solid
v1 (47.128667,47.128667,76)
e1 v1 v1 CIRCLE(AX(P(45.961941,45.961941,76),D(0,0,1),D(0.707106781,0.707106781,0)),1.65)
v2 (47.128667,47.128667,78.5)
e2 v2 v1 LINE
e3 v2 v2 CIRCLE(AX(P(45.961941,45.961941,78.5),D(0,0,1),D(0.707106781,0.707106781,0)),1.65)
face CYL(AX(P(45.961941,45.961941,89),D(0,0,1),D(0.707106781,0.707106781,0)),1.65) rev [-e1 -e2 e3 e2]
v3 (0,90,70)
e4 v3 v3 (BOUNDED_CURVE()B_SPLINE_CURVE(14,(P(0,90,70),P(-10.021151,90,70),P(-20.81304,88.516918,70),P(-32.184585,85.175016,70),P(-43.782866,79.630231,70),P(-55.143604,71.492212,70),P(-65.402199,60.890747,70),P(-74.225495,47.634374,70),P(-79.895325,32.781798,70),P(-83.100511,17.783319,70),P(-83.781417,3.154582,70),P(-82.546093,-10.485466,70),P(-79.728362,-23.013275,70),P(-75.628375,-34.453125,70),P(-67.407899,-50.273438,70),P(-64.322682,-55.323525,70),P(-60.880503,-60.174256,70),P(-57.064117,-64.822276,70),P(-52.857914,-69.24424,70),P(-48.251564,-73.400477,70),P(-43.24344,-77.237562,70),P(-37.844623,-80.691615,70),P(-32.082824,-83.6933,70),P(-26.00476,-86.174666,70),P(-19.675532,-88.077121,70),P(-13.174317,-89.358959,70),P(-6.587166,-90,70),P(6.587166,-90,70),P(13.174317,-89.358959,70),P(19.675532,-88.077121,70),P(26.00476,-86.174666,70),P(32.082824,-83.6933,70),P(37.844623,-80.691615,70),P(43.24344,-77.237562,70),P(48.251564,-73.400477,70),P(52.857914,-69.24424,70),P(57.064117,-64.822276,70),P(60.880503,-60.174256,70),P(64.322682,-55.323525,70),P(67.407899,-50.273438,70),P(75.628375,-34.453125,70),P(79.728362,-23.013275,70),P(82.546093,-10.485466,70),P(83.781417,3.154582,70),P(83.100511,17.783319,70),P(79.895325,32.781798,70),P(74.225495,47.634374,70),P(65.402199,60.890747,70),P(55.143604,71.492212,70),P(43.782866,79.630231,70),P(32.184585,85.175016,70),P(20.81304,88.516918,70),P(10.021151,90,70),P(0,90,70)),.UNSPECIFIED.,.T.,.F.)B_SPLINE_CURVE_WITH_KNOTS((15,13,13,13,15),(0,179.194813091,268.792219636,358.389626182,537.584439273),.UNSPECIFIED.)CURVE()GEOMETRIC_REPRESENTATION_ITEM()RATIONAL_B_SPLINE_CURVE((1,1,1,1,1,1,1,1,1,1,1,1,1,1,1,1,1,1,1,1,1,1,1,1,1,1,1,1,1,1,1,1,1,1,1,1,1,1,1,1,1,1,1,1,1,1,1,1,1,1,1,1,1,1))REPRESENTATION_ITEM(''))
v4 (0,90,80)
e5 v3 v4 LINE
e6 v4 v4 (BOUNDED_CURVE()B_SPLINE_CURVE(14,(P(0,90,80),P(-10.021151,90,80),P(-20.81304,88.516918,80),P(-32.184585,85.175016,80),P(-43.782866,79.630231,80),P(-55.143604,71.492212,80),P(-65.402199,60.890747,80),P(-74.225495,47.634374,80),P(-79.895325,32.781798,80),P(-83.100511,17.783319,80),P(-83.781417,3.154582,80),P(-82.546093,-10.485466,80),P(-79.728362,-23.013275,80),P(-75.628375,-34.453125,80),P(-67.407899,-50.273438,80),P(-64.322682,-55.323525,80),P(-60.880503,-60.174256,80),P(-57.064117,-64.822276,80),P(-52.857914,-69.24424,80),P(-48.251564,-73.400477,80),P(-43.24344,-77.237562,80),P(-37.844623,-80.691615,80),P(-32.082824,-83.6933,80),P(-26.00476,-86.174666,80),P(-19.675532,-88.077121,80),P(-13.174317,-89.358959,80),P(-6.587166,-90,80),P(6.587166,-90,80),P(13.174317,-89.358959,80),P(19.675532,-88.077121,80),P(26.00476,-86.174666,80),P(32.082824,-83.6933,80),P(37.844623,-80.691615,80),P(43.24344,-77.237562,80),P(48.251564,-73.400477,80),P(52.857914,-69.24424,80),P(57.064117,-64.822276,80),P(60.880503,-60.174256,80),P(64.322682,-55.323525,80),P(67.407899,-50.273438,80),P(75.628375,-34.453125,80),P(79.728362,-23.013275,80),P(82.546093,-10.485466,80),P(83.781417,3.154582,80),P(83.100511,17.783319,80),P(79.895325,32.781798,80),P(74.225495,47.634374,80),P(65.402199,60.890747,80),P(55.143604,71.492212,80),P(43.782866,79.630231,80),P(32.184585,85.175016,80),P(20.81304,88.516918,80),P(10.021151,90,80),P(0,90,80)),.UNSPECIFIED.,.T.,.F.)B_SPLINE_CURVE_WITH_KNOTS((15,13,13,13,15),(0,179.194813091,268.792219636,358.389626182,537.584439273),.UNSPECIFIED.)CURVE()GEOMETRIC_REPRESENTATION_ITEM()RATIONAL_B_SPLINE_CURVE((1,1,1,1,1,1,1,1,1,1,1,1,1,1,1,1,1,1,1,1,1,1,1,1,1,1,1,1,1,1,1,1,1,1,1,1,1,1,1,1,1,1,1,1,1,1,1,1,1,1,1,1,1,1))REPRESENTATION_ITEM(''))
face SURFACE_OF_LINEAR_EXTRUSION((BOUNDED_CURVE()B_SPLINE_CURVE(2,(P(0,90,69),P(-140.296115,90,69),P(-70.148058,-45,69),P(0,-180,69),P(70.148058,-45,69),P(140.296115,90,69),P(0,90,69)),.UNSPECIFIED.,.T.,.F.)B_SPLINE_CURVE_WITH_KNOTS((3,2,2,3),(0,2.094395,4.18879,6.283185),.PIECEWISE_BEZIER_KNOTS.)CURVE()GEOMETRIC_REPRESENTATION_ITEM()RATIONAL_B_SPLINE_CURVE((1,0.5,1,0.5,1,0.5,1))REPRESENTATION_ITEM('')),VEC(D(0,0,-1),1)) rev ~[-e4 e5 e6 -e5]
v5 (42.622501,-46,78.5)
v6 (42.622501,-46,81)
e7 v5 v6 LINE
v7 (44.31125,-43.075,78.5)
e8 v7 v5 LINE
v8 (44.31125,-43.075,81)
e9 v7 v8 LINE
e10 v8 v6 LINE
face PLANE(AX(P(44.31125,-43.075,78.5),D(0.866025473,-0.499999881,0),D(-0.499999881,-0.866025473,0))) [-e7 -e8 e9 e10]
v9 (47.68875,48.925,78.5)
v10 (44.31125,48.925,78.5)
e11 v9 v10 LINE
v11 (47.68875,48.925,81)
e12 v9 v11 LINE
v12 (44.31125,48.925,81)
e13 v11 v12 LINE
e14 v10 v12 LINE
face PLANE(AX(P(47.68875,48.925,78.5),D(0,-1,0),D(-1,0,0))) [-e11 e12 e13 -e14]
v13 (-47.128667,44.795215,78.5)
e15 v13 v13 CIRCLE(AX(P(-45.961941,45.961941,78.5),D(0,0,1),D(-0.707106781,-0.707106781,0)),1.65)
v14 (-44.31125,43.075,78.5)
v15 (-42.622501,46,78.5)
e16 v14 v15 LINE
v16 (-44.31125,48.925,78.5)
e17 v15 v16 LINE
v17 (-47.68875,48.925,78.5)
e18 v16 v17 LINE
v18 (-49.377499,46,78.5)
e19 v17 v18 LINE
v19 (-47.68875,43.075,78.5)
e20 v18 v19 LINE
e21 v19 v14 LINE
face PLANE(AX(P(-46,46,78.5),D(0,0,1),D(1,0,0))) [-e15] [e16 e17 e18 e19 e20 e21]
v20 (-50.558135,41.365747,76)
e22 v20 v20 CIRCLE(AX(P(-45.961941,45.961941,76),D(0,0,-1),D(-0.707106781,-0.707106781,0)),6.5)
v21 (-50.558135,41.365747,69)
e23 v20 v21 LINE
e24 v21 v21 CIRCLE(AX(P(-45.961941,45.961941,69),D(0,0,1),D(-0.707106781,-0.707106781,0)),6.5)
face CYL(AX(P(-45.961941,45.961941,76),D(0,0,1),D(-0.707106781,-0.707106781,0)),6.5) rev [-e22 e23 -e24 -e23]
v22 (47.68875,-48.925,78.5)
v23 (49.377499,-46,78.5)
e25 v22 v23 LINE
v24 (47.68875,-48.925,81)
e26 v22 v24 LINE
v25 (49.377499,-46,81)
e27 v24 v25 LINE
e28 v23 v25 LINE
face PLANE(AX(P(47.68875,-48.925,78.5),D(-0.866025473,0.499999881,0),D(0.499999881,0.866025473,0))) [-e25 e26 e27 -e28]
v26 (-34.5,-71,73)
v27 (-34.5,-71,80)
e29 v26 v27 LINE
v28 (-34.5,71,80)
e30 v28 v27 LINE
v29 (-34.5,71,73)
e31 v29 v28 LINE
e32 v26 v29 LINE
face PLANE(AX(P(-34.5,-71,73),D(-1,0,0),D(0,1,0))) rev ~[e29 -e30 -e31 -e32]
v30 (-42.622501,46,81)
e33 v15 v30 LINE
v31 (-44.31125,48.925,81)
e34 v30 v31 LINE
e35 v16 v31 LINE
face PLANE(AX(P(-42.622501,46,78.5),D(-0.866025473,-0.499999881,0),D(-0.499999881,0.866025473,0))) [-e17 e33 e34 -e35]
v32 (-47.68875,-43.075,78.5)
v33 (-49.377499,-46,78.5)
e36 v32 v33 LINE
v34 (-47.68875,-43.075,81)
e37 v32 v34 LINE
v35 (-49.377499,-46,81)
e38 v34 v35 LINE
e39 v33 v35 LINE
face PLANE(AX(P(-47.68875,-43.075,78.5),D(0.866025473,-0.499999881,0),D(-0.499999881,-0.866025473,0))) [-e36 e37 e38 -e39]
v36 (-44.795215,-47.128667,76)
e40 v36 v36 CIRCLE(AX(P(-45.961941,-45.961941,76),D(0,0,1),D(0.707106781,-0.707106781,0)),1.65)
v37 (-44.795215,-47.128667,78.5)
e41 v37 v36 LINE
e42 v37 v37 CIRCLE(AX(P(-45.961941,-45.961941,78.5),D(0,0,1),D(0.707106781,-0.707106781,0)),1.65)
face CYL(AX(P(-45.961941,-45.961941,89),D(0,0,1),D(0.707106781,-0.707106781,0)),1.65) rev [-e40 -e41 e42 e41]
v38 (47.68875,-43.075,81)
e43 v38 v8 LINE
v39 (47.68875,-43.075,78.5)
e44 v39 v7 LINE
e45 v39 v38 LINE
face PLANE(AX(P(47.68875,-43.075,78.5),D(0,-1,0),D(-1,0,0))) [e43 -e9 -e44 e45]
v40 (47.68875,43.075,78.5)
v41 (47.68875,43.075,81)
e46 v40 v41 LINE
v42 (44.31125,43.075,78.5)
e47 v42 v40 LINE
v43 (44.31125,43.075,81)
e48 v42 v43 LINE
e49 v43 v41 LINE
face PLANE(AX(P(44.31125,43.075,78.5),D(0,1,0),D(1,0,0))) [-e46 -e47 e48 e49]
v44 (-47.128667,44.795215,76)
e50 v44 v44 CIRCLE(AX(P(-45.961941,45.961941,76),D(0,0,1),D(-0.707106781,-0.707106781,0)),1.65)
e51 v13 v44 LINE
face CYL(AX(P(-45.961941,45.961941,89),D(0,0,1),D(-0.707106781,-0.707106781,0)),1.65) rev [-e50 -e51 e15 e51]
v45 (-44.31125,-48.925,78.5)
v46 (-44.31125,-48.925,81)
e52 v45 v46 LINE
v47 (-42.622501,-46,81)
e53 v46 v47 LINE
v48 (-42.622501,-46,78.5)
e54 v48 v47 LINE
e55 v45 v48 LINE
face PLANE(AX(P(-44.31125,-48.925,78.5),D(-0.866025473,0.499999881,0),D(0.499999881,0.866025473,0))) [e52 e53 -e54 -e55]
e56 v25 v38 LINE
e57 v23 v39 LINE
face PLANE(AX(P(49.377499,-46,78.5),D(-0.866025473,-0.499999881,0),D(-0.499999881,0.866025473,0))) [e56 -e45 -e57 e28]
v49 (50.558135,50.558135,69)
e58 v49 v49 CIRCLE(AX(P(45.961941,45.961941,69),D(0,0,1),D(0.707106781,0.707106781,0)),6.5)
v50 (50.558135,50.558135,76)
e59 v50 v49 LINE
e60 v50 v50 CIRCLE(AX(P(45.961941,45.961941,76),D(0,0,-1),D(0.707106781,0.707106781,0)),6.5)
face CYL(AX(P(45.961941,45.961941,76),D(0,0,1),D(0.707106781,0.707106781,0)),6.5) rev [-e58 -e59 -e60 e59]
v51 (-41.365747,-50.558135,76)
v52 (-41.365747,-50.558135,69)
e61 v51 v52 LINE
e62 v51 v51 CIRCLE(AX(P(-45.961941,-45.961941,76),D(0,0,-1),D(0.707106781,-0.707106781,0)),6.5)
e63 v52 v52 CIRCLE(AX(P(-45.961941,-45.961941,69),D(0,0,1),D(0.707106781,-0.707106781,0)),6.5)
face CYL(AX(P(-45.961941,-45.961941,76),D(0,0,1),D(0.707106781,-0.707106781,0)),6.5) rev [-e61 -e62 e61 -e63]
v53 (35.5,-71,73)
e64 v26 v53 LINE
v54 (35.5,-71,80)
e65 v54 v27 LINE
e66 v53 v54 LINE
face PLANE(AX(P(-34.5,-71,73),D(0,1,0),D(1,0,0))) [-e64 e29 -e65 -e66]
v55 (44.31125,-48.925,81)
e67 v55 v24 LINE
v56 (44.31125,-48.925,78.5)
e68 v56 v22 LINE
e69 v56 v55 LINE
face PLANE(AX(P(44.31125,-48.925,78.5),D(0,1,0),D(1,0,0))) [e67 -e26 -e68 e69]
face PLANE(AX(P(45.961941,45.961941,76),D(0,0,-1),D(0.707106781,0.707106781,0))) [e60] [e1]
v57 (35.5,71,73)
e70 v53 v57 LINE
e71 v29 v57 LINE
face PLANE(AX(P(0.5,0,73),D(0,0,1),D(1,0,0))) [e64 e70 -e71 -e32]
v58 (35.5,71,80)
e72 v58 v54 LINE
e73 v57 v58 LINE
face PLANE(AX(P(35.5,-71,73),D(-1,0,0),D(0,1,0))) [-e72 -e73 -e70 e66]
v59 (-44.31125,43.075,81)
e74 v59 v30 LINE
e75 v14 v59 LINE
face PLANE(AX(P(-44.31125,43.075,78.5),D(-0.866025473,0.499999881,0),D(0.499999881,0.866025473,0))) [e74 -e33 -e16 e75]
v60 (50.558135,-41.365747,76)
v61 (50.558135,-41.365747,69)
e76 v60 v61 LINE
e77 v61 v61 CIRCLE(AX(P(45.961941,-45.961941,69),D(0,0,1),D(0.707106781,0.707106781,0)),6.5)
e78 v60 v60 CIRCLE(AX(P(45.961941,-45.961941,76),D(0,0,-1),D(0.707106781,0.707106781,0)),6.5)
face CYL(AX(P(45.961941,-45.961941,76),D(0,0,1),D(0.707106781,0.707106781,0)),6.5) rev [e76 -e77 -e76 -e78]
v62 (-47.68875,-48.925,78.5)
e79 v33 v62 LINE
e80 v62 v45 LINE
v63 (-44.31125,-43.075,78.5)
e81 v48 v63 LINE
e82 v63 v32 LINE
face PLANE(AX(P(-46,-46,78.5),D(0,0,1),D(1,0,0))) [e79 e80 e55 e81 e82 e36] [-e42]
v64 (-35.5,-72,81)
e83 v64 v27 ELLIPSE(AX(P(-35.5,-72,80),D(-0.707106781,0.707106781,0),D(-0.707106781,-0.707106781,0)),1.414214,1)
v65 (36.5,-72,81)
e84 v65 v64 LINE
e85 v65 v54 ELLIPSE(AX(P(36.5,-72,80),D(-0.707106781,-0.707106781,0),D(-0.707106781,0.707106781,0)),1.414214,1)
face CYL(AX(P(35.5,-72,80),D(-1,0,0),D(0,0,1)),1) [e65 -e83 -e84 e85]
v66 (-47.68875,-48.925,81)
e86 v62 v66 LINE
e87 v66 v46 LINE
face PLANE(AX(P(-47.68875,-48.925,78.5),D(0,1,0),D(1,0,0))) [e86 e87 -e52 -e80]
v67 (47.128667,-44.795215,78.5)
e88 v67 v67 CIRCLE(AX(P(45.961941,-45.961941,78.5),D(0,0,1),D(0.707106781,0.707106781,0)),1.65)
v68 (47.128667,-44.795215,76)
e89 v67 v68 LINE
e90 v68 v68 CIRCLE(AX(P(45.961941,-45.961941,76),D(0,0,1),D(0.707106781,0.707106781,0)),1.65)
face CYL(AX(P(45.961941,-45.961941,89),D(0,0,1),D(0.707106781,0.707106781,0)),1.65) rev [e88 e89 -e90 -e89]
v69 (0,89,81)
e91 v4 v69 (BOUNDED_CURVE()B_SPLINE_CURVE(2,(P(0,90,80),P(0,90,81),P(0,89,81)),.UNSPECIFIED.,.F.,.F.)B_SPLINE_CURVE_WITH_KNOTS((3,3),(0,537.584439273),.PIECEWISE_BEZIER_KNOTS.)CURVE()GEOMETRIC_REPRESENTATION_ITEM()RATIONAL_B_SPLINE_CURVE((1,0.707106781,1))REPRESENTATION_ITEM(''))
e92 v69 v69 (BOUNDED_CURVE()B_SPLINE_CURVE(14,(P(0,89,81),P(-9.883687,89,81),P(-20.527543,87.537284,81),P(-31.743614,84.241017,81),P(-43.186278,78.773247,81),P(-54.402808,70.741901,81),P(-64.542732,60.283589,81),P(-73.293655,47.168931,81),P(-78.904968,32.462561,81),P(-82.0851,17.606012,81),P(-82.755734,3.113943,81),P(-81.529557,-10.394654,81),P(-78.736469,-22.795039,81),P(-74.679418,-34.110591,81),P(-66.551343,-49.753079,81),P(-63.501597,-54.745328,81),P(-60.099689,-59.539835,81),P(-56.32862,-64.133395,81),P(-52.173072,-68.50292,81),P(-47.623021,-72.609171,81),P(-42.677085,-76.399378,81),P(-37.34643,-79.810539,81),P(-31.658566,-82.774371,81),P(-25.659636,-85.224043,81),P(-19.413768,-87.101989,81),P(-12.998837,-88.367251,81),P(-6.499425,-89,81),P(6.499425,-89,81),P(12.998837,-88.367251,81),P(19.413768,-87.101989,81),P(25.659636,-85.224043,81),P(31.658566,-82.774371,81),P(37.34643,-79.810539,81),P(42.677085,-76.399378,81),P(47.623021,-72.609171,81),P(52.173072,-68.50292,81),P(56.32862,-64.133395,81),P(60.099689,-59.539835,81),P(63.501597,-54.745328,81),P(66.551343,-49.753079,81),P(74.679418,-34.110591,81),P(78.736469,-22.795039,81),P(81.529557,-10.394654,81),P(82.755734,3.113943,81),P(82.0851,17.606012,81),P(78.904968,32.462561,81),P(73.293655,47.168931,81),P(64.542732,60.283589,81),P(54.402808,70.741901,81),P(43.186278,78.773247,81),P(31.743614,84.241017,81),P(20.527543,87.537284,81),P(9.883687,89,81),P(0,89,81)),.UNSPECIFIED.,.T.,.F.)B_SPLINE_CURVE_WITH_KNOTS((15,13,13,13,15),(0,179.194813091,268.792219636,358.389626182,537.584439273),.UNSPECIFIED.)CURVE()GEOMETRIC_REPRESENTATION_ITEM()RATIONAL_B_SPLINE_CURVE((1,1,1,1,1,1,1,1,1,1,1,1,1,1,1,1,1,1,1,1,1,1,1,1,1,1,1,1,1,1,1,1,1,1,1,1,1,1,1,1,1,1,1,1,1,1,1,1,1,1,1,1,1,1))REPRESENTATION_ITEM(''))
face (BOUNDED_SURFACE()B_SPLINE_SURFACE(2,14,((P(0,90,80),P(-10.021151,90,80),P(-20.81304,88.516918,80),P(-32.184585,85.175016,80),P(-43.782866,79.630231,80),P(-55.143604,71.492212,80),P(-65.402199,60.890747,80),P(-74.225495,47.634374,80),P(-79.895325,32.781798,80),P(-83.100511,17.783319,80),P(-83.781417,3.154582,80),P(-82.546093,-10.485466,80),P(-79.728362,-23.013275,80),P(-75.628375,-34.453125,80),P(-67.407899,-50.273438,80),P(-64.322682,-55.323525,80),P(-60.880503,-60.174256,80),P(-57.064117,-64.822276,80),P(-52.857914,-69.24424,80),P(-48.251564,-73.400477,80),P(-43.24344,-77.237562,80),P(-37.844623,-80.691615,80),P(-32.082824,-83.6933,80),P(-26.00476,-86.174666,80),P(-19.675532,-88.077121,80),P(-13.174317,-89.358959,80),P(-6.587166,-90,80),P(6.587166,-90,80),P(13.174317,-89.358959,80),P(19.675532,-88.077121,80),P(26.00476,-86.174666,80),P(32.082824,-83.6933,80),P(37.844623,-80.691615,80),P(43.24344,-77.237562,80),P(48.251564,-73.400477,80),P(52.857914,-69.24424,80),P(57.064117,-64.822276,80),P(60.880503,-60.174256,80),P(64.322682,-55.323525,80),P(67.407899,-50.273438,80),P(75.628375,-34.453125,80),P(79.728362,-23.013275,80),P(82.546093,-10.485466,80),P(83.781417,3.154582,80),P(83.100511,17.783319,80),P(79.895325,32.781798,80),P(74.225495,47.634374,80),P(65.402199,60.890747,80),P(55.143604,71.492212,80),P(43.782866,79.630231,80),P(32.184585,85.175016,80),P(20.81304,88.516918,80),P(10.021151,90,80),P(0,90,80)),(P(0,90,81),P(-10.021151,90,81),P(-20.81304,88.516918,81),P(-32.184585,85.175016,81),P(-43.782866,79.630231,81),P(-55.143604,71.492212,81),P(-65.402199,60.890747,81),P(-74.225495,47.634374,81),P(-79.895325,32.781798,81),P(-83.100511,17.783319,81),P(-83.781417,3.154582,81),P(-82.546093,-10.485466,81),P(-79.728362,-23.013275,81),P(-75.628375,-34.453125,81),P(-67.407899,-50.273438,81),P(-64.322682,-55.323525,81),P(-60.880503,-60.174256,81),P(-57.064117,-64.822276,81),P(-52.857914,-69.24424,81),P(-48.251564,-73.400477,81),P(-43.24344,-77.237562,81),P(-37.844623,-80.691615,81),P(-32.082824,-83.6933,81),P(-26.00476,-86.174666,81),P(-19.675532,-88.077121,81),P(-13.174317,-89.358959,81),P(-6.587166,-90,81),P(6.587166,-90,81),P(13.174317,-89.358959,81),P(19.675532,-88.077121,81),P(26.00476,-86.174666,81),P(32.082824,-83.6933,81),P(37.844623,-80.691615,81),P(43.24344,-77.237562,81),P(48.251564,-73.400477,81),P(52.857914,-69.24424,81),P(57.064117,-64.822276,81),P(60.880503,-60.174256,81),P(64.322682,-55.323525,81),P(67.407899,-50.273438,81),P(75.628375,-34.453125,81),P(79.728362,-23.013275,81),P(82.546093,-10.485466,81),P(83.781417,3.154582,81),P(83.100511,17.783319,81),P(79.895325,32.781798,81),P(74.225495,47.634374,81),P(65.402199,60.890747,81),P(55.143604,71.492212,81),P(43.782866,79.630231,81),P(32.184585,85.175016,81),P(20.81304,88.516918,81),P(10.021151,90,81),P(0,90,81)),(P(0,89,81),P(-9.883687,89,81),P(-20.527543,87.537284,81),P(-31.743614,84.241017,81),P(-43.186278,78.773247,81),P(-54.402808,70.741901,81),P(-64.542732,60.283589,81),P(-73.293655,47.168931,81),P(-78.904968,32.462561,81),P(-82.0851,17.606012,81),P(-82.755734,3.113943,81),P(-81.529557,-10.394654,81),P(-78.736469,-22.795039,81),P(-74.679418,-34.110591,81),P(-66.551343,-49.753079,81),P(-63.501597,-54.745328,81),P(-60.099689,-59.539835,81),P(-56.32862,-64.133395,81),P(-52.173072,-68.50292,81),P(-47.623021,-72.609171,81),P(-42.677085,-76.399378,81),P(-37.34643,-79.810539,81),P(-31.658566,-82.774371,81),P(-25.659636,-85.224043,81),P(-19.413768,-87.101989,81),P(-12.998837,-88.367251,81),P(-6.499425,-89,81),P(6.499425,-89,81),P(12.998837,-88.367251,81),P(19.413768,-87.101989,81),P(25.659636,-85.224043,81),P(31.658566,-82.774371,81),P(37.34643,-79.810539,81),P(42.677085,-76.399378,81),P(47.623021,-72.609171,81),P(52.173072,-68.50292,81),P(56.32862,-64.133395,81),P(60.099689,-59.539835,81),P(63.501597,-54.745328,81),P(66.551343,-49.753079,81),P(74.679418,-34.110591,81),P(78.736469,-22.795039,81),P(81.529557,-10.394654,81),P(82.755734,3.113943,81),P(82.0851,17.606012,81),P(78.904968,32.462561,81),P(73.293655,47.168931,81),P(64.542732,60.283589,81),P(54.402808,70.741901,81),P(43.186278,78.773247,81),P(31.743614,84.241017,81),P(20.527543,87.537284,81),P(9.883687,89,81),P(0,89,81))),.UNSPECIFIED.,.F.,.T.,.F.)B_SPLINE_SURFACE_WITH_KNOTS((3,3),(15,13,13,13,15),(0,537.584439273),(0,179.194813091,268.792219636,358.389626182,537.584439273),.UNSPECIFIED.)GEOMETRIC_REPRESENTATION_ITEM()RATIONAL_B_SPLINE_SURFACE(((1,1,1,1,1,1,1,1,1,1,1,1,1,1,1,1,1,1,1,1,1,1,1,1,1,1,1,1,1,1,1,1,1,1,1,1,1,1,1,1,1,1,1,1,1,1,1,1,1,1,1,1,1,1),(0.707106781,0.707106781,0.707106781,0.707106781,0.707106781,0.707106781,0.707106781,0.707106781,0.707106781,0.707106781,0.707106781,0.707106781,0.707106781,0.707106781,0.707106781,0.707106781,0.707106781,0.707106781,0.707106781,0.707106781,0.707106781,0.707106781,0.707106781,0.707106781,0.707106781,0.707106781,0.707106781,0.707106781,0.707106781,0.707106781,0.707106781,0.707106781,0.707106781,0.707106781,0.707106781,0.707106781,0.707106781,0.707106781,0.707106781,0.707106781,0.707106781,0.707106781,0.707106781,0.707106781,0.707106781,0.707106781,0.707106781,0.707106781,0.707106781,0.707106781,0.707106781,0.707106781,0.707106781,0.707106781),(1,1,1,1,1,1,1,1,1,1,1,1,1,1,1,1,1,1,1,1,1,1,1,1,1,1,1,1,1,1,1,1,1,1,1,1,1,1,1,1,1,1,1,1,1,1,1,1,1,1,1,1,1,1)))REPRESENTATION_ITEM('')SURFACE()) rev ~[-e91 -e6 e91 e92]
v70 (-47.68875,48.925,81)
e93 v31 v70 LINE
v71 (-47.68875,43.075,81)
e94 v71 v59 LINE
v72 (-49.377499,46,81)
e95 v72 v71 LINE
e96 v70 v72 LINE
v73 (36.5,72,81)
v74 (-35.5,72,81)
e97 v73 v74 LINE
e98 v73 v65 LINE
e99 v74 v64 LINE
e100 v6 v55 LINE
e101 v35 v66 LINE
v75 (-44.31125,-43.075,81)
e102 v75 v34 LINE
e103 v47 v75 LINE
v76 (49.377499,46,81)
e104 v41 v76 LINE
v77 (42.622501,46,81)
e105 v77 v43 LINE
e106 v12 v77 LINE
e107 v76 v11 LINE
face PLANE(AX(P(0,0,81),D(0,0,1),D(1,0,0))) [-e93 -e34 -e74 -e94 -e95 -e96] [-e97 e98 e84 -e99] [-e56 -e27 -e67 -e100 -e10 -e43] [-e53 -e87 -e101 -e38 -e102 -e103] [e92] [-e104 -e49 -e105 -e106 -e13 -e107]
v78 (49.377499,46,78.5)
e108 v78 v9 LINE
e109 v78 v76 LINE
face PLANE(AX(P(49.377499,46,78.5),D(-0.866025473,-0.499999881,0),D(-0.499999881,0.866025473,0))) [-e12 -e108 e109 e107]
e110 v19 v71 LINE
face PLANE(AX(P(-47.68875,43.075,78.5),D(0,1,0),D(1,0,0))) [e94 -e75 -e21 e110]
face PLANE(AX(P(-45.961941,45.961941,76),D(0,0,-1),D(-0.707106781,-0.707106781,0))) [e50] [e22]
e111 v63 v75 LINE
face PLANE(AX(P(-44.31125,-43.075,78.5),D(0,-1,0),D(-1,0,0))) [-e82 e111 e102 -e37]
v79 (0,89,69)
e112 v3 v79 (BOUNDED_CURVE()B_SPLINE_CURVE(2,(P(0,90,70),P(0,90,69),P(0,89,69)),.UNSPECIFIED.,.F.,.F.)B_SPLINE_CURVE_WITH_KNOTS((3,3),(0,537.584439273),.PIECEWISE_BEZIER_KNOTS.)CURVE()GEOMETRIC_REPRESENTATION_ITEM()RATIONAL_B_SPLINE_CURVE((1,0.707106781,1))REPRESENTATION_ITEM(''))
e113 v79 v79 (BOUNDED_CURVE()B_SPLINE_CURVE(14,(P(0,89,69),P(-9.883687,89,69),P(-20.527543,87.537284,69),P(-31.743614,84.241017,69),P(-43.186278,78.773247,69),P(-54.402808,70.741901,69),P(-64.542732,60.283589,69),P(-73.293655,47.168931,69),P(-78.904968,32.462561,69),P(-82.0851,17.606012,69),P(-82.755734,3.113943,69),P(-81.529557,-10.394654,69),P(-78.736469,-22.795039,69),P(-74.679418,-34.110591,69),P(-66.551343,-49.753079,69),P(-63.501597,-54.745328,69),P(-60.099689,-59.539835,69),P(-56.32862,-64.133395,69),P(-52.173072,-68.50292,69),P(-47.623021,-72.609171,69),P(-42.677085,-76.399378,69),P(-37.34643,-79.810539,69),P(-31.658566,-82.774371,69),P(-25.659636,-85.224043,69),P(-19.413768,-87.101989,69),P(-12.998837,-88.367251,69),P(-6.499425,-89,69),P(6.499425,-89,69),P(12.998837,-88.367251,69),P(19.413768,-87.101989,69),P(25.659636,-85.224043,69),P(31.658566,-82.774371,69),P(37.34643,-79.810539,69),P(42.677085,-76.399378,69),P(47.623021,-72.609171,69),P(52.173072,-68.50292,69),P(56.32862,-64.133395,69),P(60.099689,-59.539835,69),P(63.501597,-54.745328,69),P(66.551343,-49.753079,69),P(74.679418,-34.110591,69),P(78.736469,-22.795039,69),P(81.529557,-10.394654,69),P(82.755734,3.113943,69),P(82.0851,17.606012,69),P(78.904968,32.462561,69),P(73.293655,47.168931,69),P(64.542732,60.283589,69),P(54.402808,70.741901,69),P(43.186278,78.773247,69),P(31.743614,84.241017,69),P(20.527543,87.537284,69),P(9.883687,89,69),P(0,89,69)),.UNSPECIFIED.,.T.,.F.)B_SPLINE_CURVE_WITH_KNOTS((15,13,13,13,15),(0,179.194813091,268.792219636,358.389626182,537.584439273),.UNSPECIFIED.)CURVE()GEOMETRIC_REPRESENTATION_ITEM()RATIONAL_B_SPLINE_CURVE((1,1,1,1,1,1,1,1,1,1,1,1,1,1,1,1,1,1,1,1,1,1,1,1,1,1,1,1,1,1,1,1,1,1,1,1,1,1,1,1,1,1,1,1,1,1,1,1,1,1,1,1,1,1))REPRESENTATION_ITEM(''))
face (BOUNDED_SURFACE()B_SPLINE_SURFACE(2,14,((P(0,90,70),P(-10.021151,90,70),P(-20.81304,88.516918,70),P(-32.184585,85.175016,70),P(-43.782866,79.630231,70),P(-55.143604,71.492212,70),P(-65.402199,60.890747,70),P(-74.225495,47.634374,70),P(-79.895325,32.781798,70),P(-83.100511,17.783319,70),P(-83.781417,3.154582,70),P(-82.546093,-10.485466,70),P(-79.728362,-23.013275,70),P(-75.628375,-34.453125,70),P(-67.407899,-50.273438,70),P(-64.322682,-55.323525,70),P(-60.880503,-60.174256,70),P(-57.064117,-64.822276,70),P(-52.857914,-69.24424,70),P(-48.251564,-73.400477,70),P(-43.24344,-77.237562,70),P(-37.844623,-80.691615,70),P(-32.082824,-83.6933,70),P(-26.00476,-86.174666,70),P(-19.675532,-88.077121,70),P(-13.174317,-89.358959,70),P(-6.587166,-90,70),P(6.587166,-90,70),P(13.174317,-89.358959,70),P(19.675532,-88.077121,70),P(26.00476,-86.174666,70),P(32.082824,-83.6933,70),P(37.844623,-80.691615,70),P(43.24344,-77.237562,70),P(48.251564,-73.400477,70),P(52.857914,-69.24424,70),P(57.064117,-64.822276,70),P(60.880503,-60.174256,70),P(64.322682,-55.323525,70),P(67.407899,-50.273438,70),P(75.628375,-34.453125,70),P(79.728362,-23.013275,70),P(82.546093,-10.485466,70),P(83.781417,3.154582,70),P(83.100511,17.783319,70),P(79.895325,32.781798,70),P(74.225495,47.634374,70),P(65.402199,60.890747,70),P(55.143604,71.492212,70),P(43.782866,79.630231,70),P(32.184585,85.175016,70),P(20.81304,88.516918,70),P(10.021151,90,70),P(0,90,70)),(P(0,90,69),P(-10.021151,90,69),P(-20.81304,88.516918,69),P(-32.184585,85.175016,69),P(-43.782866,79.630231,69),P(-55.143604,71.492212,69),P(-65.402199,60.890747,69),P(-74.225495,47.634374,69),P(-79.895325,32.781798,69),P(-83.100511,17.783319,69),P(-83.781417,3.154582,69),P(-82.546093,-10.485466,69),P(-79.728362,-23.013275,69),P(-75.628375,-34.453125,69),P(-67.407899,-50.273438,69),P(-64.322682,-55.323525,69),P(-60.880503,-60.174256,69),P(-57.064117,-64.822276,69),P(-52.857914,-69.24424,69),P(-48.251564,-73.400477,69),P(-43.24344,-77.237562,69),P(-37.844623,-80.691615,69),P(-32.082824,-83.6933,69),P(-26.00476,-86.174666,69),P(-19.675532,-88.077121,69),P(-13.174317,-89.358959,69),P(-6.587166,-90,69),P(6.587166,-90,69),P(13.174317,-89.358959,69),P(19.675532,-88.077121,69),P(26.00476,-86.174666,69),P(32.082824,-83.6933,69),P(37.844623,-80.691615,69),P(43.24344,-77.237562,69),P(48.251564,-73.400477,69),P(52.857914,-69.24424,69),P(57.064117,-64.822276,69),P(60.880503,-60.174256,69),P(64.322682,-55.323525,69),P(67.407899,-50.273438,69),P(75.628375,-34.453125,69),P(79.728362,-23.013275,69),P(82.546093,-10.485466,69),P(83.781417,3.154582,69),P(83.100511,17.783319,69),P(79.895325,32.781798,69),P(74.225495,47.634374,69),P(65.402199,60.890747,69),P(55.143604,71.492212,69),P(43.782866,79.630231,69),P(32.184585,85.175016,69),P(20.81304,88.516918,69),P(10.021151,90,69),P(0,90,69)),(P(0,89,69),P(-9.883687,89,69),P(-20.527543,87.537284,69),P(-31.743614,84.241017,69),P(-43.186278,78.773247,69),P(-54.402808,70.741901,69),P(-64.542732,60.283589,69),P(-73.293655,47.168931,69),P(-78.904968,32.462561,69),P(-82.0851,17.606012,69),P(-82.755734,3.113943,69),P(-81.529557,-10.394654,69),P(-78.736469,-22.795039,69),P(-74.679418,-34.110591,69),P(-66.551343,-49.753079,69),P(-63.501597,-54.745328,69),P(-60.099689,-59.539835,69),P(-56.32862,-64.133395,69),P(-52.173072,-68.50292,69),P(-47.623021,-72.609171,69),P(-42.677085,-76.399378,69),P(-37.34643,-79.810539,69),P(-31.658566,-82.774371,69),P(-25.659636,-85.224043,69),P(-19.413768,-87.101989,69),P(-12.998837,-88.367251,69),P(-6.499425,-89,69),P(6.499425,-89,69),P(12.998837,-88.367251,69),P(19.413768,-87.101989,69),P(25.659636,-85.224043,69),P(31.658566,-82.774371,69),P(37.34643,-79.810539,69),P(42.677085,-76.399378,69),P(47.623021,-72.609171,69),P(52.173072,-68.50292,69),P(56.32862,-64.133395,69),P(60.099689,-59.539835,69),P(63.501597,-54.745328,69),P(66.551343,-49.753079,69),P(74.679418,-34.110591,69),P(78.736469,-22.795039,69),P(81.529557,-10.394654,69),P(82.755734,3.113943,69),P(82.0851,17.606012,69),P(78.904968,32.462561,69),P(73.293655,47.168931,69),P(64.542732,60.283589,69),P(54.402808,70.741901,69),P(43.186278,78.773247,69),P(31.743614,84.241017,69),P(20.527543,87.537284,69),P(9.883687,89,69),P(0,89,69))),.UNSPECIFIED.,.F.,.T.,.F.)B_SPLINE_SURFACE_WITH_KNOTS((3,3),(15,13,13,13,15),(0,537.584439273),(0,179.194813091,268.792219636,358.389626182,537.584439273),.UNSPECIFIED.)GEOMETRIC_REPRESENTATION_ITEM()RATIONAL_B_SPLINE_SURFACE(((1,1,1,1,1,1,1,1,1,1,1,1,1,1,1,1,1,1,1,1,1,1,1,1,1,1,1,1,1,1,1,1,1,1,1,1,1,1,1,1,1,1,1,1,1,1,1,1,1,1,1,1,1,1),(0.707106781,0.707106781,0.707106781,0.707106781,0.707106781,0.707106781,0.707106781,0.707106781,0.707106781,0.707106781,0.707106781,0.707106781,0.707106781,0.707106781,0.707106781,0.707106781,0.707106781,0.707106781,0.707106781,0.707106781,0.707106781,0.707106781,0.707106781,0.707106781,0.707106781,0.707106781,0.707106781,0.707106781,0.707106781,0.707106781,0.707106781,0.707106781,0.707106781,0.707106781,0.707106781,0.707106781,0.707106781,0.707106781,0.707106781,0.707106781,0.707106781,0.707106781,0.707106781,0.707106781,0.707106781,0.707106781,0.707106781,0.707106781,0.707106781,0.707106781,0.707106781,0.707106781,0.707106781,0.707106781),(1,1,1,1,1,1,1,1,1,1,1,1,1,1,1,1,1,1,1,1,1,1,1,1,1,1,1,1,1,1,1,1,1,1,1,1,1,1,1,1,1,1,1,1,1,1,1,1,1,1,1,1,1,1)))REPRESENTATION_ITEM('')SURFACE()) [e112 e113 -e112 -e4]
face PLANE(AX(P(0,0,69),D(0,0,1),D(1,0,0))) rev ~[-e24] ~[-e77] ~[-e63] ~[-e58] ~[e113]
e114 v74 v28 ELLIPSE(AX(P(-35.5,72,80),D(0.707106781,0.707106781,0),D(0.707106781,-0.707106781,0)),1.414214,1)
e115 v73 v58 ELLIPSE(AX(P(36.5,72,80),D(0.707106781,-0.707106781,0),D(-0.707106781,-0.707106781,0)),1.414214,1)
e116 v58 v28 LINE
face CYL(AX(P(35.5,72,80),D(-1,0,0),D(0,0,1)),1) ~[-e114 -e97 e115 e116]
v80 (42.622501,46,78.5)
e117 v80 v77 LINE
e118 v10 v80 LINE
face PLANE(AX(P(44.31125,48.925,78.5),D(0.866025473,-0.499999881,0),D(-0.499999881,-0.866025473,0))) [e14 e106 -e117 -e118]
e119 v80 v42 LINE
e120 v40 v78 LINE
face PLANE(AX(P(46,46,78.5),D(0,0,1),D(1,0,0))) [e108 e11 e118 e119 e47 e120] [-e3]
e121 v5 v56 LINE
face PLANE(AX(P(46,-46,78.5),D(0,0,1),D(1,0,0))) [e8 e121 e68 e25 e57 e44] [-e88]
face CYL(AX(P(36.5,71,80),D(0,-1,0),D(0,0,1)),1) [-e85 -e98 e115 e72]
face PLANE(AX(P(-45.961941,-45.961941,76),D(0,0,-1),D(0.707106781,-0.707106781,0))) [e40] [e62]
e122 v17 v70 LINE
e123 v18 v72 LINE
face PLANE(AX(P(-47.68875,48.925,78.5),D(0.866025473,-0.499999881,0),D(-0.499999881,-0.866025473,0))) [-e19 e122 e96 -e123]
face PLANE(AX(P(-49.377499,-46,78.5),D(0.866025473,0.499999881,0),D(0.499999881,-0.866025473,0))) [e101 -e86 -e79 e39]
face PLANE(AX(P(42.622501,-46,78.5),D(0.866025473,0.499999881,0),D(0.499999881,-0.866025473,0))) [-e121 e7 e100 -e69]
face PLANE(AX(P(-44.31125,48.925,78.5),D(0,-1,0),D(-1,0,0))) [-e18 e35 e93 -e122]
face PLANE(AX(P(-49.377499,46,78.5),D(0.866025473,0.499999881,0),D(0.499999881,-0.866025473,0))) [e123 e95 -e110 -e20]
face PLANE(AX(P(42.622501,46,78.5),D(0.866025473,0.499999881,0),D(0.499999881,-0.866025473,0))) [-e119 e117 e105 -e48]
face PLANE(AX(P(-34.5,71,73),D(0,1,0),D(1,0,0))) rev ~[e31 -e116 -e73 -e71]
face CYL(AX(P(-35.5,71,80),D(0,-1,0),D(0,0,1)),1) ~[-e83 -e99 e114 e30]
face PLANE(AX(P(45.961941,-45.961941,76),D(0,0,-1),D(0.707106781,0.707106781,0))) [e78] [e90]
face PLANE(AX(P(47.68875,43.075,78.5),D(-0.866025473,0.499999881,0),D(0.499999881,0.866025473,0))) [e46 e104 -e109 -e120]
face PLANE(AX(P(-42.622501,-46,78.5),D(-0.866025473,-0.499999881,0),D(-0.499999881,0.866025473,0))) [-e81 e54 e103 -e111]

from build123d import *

# Parameters (mm, degrees)
EXTRUDE009_DEPTH            = 2.5
CYLINDER014_R               = 6.5
CYLINDER014_DEPTH           = 12.5
CYLINDER014_ROLL_ANGLE      = 90
CYLINDER014_PITCH_ANGLE     = -45
CYLINDER015_R               = 6.5
CYLINDER015_DEPTH           = 12.5
CYLINDER015_ROLL_ANGLE      = 90
CYLINDER015_PITCH_ANGLE     = 45
CYLINDER016_R               = 6.5
CYLINDER016_DEPTH           = 12.5
CYLINDER016_ROLL_ANGLE      = -90
CYLINDER016_PITCH_ANGLE     = -45
CYLINDER016_PLACEMENT_ANGLE = 180
CYLINDER013_R               = 6.5
CYLINDER013_DEPTH           = 12.5
CYLINDER013_ROLL_ANGLE      = 90
CYLINDER013_PITCH_ANGLE     = 45
FUSION034_PLACEMENT_ANGLE   = 90
CYLINDER010_R               = 1.65
CYLINDER010_DEPTH           = 20
CYLINDER010_ROLL_ANGLE      = 90
CYLINDER010_PITCH_ANGLE     = -45
CYLINDER011_R               = 1.65
CYLINDER011_DEPTH           = 20
CYLINDER011_ROLL_ANGLE      = 90
CYLINDER011_PITCH_ANGLE     = 45
CYLINDER012_R               = 1.65
CYLINDER012_DEPTH           = 20
CYLINDER012_ROLL_ANGLE      = -90
CYLINDER012_PITCH_ANGLE     = -45
CYLINDER012_PLACEMENT_ANGLE = 180
CYLINDER009_R               = 1.65
CYLINDER009_DEPTH           = 20
CYLINDER009_ROLL_ANGLE      = 90
CYLINDER009_PITCH_ANGLE     = 45
FUSION032_PLACEMENT_ANGLE   = 90
BOX003_W                    = 70
BOX003_H                    = 142
BOX003_DEPTH                = 12
EXTRUDE004_DEPTH            = 12
FILLET001_R                 = 1


with BuildPart() as m3nut:
    # Sketch009 (on Fillet) → Extrude009 (new body)
    with BuildSketch(Plane.XY):
        Polygon((-44.31125, 43.075), (-42.622501, 46), (-44.31125, 48.925), (-47.68875, 48.925), (-49.377499, 46), (-47.68875, 43.075), align=None)
        Polygon((47.68875, 43.075), (49.377499, 46), (47.68875, 48.925), (44.31125, 48.925), (42.622501, 46), (44.31125, 43.075), align=None)
        Polygon((47.68875, -48.925), (49.377499, -46), (47.68875, -43.075), (44.31125, -43.075), (42.622501, -46), (44.31125, -48.925), align=None)
        Polygon((-44.31125, -48.925), (-42.622501, -46), (-44.31125, -43.075), (-47.68875, -43.075), (-49.377499, -46), (-47.68875, -48.925), align=None)
    extrude(amount=EXTRUDE009_DEPTH)


with BuildPart() as m3nut_1:
    # Extrude009 placement: moved
    add(m3nut.part.moved(Location((0, 0, 82.5))))


with BuildPart() as cylinder014:
    # Cylinder014 → Cylinder014 (new body)
    with BuildSketch(Plane.XY):
        Circle(CYLINDER014_R)
    extrude(amount=CYLINDER014_DEPTH)


with BuildPart() as cylinder014_1:
    # Cylinder014 roll: moved
    add(cylinder014.part.rotate(Axis((0, 0, 0), (1, 0, 0)), CYLINDER014_ROLL_ANGLE))


with BuildPart() as cylinder014_2:
    # Cylinder014 pitch: moved
    add(cylinder014_1.part.rotate(Axis((0, 0, 0), (0, 1, 0)), CYLINDER014_PITCH_ANGLE))


with BuildPart() as cylinder014_3:
    # Cylinder014 placement: moved
    add(cylinder014_2.part.moved(Location((-45.961941, 57, 45.961941))))


with BuildPart() as cylinder015:
    # Cylinder015 → Cylinder015 (new body)
    with BuildSketch(Plane.XY):
        Circle(CYLINDER015_R)
    extrude(amount=CYLINDER015_DEPTH)


with BuildPart() as cylinder015_1:
    # Cylinder015 roll: moved
    add(cylinder015.part.rotate(Axis((0, 0, 0), (1, 0, 0)), CYLINDER015_ROLL_ANGLE))


with BuildPart() as cylinder015_2:
    # Cylinder015 pitch: moved
    add(cylinder015_1.part.rotate(Axis((0, 0, 0), (0, 1, 0)), CYLINDER015_PITCH_ANGLE))


with BuildPart() as cylinder015_3:
    # Cylinder015 placement: moved
    add(cylinder015_2.part.moved(Location((45.961941, 57, -45.961941))))


with BuildPart() as cylinder016:
    # Cylinder016 → Cylinder016 (new body)
    with BuildSketch(Plane.XY):
        Circle(CYLINDER016_R)
    extrude(amount=CYLINDER016_DEPTH)


with BuildPart() as cylinder016_1:
    # Cylinder016 roll: moved
    add(cylinder016.part.rotate(Axis((0, 0, 0), (1, 0, 0)), CYLINDER016_ROLL_ANGLE))


with BuildPart() as cylinder016_2:
    # Cylinder016 pitch: moved
    add(cylinder016_1.part.rotate(Axis((0, 0, 0), (0, 1, 0)), CYLINDER016_PITCH_ANGLE))


with BuildPart() as cylinder016_3:
    # Cylinder016 placement: moved
    add(cylinder016_2.part.moved(Location((-45.961941, 57, -45.961941))).rotate(Axis((-45.961941, 57, -45.961941), (0, 0, 1)), CYLINDER016_PLACEMENT_ANGLE))


with BuildPart() as m3head:
    # Cylinder013 → Cylinder013 (new body)
    with BuildSketch(Plane.XY):
        Circle(CYLINDER013_R)
    extrude(amount=CYLINDER013_DEPTH)


with BuildPart() as m3head_1:
    # Cylinder013 roll: moved
    add(m3head.part.rotate(Axis((0, 0, 0), (1, 0, 0)), CYLINDER013_ROLL_ANGLE))


with BuildPart() as m3head_2:
    # Cylinder013 pitch: moved
    add(m3head_1.part.rotate(Axis((0, 0, 0), (0, 1, 0)), CYLINDER013_PITCH_ANGLE))


with BuildPart() as m3head_3:
    # Cylinder013 placement: moved
    add(m3head_2.part.moved(Location((45.961941, 57, 45.961941))))

    # Fusion034: union Cylinder014, Cylinder015, Cylinder016
    add(cylinder014_3.part)
    add(cylinder015_3.part)
    add(cylinder016_3.part)


with BuildPart() as m3head_4:
    # Fusion034 placement: moved
    add(m3head_3.part.moved(Location((0, 0, 23))).rotate(Axis((0, 0, 23), (1, 0, 0)), FUSION034_PLACEMENT_ANGLE))


with BuildPart() as cylinder010:
    # Cylinder010 → Cylinder010 (new body)
    with BuildSketch(Plane.XY):
        Circle(CYLINDER010_R)
    extrude(amount=CYLINDER010_DEPTH)


with BuildPart() as cylinder010_1:
    # Cylinder010 roll: moved
    add(cylinder010.part.rotate(Axis((0, 0, 0), (1, 0, 0)), CYLINDER010_ROLL_ANGLE))


with BuildPart() as cylinder010_2:
    # Cylinder010 pitch: moved
    add(cylinder010_1.part.rotate(Axis((0, 0, 0), (0, 1, 0)), CYLINDER010_PITCH_ANGLE))


with BuildPart() as cylinder010_3:
    # Cylinder010 placement: moved
    add(cylinder010_2.part.moved(Location((-45.961941, 57, 45.961941))))


with BuildPart() as cylinder011:
    # Cylinder011 → Cylinder011 (new body)
    with BuildSketch(Plane.XY):
        Circle(CYLINDER011_R)
    extrude(amount=CYLINDER011_DEPTH)


with BuildPart() as cylinder011_1:
    # Cylinder011 roll: moved
    add(cylinder011.part.rotate(Axis((0, 0, 0), (1, 0, 0)), CYLINDER011_ROLL_ANGLE))


with BuildPart() as cylinder011_2:
    # Cylinder011 pitch: moved
    add(cylinder011_1.part.rotate(Axis((0, 0, 0), (0, 1, 0)), CYLINDER011_PITCH_ANGLE))


with BuildPart() as cylinder011_3:
    # Cylinder011 placement: moved
    add(cylinder011_2.part.moved(Location((45.961941, 57, -45.961941))))


with BuildPart() as cylinder012:
    # Cylinder012 → Cylinder012 (new body)
    with BuildSketch(Plane.XY):
        Circle(CYLINDER012_R)
    extrude(amount=CYLINDER012_DEPTH)


with BuildPart() as cylinder012_1:
    # Cylinder012 roll: moved
    add(cylinder012.part.rotate(Axis((0, 0, 0), (1, 0, 0)), CYLINDER012_ROLL_ANGLE))


with BuildPart() as cylinder012_2:
    # Cylinder012 pitch: moved
    add(cylinder012_1.part.rotate(Axis((0, 0, 0), (0, 1, 0)), CYLINDER012_PITCH_ANGLE))


with BuildPart() as cylinder012_3:
    # Cylinder012 placement: moved
    add(cylinder012_2.part.moved(Location((-45.961941, 57, -45.961941))).rotate(Axis((-45.961941, 57, -45.961941), (0, 0, 1)), CYLINDER012_PLACEMENT_ANGLE))


with BuildPart() as bottombasem3:
    # Cylinder009 → Cylinder009 (new body)
    with BuildSketch(Plane.XY):
        Circle(CYLINDER009_R)
    extrude(amount=CYLINDER009_DEPTH)


with BuildPart() as bottombasem3_1:
    # Cylinder009 roll: moved
    add(bottombasem3.part.rotate(Axis((0, 0, 0), (1, 0, 0)), CYLINDER009_ROLL_ANGLE))


with BuildPart() as bottombasem3_2:
    # Cylinder009 pitch: moved
    add(bottombasem3_1.part.rotate(Axis((0, 0, 0), (0, 1, 0)), CYLINDER009_PITCH_ANGLE))


with BuildPart() as bottombasem3_3:
    # Cylinder009 placement: moved
    add(bottombasem3_2.part.moved(Location((45.961941, 57, 45.961941))))

    # Fusion032: union Cylinder010, Cylinder011, Cylinder012
    add(cylinder010_3.part)
    add(cylinder011_3.part)
    add(cylinder012_3.part)


with BuildPart() as bottombasem3_4:
    # Fusion032 placement: moved
    add(bottombasem3_3.part.moved(Location((0, 0, 36))).rotate(Axis((0, 0, 36), (1, 0, 0)), FUSION032_PLACEMENT_ANGLE))

    # Fusion189: union m3Head
    add(m3head_4.part)


with BuildPart() as batteryplus12mah001:
    # Box003 → Box003 (new body)
    with BuildSketch(Plane(origin=(-34.5, -71, 77), x_dir=(1, 0, 0), z_dir=(0, 0, 1))):
        with Locations((35, 71)):
            Rectangle(BOX003_W, BOX003_H)
    extrude(amount=BOX003_DEPTH)


with BuildPart() as cut007:
    # Sketch004 → Extrude004 (new body)
    with BuildSketch(Plane.XY):
        with BuildLine():
            add(Edge.make_bspline(
                [(0, 90), (-140.296115, 90), (-70.148058, -45), (0, -180), (70.148058, -45), (140.296115, 90), (0, 90)],
                knots=[0, 0, 0, 2.094395, 2.094395, 4.18879, 4.18879, 6.283185, 6.283185, 6.283185], degree=2, weights=[1, 0.5, 1, 0.5, 1, 0.5, 1]))
        make_face()
    extrude(amount=EXTRUDE004_DEPTH)


with BuildPart() as cut007_1:
    # Extrude004 placement: moved
    add(cut007.part.moved(Location((0, 0, 73))))

    # Cut: cut batteryPlus12MAH001
    add(batteryplus12mah001.part, mode=Mode.SUBTRACT)

    # Cut006: cut bottomBasem3
    add(bottombasem3_4.part, mode=Mode.SUBTRACT)

    # Fillet001
    fillet001_edges = [cut007_1.edges().sort_by_distance(p)[0] for p in [
        (0.001282, -90, 73),
        (0.001282, -90, 85),
        (0.5, -71, 85),
        (35.5, 0, 85),
        (-34.5, 0, 85),
        (0.5, 71, 85),
    ]]
    fillet(fillet001_edges, radius=FILLET001_R)

    # Cut007: cut m3nut
    add(m3nut_1.part, mode=Mode.SUBTRACT)


with BuildPart() as cut007_2:
    # Cut007 placement: moved
    add(cut007_1.part.moved(Location((0, 0, -4))))


solid = cut007_2.part
